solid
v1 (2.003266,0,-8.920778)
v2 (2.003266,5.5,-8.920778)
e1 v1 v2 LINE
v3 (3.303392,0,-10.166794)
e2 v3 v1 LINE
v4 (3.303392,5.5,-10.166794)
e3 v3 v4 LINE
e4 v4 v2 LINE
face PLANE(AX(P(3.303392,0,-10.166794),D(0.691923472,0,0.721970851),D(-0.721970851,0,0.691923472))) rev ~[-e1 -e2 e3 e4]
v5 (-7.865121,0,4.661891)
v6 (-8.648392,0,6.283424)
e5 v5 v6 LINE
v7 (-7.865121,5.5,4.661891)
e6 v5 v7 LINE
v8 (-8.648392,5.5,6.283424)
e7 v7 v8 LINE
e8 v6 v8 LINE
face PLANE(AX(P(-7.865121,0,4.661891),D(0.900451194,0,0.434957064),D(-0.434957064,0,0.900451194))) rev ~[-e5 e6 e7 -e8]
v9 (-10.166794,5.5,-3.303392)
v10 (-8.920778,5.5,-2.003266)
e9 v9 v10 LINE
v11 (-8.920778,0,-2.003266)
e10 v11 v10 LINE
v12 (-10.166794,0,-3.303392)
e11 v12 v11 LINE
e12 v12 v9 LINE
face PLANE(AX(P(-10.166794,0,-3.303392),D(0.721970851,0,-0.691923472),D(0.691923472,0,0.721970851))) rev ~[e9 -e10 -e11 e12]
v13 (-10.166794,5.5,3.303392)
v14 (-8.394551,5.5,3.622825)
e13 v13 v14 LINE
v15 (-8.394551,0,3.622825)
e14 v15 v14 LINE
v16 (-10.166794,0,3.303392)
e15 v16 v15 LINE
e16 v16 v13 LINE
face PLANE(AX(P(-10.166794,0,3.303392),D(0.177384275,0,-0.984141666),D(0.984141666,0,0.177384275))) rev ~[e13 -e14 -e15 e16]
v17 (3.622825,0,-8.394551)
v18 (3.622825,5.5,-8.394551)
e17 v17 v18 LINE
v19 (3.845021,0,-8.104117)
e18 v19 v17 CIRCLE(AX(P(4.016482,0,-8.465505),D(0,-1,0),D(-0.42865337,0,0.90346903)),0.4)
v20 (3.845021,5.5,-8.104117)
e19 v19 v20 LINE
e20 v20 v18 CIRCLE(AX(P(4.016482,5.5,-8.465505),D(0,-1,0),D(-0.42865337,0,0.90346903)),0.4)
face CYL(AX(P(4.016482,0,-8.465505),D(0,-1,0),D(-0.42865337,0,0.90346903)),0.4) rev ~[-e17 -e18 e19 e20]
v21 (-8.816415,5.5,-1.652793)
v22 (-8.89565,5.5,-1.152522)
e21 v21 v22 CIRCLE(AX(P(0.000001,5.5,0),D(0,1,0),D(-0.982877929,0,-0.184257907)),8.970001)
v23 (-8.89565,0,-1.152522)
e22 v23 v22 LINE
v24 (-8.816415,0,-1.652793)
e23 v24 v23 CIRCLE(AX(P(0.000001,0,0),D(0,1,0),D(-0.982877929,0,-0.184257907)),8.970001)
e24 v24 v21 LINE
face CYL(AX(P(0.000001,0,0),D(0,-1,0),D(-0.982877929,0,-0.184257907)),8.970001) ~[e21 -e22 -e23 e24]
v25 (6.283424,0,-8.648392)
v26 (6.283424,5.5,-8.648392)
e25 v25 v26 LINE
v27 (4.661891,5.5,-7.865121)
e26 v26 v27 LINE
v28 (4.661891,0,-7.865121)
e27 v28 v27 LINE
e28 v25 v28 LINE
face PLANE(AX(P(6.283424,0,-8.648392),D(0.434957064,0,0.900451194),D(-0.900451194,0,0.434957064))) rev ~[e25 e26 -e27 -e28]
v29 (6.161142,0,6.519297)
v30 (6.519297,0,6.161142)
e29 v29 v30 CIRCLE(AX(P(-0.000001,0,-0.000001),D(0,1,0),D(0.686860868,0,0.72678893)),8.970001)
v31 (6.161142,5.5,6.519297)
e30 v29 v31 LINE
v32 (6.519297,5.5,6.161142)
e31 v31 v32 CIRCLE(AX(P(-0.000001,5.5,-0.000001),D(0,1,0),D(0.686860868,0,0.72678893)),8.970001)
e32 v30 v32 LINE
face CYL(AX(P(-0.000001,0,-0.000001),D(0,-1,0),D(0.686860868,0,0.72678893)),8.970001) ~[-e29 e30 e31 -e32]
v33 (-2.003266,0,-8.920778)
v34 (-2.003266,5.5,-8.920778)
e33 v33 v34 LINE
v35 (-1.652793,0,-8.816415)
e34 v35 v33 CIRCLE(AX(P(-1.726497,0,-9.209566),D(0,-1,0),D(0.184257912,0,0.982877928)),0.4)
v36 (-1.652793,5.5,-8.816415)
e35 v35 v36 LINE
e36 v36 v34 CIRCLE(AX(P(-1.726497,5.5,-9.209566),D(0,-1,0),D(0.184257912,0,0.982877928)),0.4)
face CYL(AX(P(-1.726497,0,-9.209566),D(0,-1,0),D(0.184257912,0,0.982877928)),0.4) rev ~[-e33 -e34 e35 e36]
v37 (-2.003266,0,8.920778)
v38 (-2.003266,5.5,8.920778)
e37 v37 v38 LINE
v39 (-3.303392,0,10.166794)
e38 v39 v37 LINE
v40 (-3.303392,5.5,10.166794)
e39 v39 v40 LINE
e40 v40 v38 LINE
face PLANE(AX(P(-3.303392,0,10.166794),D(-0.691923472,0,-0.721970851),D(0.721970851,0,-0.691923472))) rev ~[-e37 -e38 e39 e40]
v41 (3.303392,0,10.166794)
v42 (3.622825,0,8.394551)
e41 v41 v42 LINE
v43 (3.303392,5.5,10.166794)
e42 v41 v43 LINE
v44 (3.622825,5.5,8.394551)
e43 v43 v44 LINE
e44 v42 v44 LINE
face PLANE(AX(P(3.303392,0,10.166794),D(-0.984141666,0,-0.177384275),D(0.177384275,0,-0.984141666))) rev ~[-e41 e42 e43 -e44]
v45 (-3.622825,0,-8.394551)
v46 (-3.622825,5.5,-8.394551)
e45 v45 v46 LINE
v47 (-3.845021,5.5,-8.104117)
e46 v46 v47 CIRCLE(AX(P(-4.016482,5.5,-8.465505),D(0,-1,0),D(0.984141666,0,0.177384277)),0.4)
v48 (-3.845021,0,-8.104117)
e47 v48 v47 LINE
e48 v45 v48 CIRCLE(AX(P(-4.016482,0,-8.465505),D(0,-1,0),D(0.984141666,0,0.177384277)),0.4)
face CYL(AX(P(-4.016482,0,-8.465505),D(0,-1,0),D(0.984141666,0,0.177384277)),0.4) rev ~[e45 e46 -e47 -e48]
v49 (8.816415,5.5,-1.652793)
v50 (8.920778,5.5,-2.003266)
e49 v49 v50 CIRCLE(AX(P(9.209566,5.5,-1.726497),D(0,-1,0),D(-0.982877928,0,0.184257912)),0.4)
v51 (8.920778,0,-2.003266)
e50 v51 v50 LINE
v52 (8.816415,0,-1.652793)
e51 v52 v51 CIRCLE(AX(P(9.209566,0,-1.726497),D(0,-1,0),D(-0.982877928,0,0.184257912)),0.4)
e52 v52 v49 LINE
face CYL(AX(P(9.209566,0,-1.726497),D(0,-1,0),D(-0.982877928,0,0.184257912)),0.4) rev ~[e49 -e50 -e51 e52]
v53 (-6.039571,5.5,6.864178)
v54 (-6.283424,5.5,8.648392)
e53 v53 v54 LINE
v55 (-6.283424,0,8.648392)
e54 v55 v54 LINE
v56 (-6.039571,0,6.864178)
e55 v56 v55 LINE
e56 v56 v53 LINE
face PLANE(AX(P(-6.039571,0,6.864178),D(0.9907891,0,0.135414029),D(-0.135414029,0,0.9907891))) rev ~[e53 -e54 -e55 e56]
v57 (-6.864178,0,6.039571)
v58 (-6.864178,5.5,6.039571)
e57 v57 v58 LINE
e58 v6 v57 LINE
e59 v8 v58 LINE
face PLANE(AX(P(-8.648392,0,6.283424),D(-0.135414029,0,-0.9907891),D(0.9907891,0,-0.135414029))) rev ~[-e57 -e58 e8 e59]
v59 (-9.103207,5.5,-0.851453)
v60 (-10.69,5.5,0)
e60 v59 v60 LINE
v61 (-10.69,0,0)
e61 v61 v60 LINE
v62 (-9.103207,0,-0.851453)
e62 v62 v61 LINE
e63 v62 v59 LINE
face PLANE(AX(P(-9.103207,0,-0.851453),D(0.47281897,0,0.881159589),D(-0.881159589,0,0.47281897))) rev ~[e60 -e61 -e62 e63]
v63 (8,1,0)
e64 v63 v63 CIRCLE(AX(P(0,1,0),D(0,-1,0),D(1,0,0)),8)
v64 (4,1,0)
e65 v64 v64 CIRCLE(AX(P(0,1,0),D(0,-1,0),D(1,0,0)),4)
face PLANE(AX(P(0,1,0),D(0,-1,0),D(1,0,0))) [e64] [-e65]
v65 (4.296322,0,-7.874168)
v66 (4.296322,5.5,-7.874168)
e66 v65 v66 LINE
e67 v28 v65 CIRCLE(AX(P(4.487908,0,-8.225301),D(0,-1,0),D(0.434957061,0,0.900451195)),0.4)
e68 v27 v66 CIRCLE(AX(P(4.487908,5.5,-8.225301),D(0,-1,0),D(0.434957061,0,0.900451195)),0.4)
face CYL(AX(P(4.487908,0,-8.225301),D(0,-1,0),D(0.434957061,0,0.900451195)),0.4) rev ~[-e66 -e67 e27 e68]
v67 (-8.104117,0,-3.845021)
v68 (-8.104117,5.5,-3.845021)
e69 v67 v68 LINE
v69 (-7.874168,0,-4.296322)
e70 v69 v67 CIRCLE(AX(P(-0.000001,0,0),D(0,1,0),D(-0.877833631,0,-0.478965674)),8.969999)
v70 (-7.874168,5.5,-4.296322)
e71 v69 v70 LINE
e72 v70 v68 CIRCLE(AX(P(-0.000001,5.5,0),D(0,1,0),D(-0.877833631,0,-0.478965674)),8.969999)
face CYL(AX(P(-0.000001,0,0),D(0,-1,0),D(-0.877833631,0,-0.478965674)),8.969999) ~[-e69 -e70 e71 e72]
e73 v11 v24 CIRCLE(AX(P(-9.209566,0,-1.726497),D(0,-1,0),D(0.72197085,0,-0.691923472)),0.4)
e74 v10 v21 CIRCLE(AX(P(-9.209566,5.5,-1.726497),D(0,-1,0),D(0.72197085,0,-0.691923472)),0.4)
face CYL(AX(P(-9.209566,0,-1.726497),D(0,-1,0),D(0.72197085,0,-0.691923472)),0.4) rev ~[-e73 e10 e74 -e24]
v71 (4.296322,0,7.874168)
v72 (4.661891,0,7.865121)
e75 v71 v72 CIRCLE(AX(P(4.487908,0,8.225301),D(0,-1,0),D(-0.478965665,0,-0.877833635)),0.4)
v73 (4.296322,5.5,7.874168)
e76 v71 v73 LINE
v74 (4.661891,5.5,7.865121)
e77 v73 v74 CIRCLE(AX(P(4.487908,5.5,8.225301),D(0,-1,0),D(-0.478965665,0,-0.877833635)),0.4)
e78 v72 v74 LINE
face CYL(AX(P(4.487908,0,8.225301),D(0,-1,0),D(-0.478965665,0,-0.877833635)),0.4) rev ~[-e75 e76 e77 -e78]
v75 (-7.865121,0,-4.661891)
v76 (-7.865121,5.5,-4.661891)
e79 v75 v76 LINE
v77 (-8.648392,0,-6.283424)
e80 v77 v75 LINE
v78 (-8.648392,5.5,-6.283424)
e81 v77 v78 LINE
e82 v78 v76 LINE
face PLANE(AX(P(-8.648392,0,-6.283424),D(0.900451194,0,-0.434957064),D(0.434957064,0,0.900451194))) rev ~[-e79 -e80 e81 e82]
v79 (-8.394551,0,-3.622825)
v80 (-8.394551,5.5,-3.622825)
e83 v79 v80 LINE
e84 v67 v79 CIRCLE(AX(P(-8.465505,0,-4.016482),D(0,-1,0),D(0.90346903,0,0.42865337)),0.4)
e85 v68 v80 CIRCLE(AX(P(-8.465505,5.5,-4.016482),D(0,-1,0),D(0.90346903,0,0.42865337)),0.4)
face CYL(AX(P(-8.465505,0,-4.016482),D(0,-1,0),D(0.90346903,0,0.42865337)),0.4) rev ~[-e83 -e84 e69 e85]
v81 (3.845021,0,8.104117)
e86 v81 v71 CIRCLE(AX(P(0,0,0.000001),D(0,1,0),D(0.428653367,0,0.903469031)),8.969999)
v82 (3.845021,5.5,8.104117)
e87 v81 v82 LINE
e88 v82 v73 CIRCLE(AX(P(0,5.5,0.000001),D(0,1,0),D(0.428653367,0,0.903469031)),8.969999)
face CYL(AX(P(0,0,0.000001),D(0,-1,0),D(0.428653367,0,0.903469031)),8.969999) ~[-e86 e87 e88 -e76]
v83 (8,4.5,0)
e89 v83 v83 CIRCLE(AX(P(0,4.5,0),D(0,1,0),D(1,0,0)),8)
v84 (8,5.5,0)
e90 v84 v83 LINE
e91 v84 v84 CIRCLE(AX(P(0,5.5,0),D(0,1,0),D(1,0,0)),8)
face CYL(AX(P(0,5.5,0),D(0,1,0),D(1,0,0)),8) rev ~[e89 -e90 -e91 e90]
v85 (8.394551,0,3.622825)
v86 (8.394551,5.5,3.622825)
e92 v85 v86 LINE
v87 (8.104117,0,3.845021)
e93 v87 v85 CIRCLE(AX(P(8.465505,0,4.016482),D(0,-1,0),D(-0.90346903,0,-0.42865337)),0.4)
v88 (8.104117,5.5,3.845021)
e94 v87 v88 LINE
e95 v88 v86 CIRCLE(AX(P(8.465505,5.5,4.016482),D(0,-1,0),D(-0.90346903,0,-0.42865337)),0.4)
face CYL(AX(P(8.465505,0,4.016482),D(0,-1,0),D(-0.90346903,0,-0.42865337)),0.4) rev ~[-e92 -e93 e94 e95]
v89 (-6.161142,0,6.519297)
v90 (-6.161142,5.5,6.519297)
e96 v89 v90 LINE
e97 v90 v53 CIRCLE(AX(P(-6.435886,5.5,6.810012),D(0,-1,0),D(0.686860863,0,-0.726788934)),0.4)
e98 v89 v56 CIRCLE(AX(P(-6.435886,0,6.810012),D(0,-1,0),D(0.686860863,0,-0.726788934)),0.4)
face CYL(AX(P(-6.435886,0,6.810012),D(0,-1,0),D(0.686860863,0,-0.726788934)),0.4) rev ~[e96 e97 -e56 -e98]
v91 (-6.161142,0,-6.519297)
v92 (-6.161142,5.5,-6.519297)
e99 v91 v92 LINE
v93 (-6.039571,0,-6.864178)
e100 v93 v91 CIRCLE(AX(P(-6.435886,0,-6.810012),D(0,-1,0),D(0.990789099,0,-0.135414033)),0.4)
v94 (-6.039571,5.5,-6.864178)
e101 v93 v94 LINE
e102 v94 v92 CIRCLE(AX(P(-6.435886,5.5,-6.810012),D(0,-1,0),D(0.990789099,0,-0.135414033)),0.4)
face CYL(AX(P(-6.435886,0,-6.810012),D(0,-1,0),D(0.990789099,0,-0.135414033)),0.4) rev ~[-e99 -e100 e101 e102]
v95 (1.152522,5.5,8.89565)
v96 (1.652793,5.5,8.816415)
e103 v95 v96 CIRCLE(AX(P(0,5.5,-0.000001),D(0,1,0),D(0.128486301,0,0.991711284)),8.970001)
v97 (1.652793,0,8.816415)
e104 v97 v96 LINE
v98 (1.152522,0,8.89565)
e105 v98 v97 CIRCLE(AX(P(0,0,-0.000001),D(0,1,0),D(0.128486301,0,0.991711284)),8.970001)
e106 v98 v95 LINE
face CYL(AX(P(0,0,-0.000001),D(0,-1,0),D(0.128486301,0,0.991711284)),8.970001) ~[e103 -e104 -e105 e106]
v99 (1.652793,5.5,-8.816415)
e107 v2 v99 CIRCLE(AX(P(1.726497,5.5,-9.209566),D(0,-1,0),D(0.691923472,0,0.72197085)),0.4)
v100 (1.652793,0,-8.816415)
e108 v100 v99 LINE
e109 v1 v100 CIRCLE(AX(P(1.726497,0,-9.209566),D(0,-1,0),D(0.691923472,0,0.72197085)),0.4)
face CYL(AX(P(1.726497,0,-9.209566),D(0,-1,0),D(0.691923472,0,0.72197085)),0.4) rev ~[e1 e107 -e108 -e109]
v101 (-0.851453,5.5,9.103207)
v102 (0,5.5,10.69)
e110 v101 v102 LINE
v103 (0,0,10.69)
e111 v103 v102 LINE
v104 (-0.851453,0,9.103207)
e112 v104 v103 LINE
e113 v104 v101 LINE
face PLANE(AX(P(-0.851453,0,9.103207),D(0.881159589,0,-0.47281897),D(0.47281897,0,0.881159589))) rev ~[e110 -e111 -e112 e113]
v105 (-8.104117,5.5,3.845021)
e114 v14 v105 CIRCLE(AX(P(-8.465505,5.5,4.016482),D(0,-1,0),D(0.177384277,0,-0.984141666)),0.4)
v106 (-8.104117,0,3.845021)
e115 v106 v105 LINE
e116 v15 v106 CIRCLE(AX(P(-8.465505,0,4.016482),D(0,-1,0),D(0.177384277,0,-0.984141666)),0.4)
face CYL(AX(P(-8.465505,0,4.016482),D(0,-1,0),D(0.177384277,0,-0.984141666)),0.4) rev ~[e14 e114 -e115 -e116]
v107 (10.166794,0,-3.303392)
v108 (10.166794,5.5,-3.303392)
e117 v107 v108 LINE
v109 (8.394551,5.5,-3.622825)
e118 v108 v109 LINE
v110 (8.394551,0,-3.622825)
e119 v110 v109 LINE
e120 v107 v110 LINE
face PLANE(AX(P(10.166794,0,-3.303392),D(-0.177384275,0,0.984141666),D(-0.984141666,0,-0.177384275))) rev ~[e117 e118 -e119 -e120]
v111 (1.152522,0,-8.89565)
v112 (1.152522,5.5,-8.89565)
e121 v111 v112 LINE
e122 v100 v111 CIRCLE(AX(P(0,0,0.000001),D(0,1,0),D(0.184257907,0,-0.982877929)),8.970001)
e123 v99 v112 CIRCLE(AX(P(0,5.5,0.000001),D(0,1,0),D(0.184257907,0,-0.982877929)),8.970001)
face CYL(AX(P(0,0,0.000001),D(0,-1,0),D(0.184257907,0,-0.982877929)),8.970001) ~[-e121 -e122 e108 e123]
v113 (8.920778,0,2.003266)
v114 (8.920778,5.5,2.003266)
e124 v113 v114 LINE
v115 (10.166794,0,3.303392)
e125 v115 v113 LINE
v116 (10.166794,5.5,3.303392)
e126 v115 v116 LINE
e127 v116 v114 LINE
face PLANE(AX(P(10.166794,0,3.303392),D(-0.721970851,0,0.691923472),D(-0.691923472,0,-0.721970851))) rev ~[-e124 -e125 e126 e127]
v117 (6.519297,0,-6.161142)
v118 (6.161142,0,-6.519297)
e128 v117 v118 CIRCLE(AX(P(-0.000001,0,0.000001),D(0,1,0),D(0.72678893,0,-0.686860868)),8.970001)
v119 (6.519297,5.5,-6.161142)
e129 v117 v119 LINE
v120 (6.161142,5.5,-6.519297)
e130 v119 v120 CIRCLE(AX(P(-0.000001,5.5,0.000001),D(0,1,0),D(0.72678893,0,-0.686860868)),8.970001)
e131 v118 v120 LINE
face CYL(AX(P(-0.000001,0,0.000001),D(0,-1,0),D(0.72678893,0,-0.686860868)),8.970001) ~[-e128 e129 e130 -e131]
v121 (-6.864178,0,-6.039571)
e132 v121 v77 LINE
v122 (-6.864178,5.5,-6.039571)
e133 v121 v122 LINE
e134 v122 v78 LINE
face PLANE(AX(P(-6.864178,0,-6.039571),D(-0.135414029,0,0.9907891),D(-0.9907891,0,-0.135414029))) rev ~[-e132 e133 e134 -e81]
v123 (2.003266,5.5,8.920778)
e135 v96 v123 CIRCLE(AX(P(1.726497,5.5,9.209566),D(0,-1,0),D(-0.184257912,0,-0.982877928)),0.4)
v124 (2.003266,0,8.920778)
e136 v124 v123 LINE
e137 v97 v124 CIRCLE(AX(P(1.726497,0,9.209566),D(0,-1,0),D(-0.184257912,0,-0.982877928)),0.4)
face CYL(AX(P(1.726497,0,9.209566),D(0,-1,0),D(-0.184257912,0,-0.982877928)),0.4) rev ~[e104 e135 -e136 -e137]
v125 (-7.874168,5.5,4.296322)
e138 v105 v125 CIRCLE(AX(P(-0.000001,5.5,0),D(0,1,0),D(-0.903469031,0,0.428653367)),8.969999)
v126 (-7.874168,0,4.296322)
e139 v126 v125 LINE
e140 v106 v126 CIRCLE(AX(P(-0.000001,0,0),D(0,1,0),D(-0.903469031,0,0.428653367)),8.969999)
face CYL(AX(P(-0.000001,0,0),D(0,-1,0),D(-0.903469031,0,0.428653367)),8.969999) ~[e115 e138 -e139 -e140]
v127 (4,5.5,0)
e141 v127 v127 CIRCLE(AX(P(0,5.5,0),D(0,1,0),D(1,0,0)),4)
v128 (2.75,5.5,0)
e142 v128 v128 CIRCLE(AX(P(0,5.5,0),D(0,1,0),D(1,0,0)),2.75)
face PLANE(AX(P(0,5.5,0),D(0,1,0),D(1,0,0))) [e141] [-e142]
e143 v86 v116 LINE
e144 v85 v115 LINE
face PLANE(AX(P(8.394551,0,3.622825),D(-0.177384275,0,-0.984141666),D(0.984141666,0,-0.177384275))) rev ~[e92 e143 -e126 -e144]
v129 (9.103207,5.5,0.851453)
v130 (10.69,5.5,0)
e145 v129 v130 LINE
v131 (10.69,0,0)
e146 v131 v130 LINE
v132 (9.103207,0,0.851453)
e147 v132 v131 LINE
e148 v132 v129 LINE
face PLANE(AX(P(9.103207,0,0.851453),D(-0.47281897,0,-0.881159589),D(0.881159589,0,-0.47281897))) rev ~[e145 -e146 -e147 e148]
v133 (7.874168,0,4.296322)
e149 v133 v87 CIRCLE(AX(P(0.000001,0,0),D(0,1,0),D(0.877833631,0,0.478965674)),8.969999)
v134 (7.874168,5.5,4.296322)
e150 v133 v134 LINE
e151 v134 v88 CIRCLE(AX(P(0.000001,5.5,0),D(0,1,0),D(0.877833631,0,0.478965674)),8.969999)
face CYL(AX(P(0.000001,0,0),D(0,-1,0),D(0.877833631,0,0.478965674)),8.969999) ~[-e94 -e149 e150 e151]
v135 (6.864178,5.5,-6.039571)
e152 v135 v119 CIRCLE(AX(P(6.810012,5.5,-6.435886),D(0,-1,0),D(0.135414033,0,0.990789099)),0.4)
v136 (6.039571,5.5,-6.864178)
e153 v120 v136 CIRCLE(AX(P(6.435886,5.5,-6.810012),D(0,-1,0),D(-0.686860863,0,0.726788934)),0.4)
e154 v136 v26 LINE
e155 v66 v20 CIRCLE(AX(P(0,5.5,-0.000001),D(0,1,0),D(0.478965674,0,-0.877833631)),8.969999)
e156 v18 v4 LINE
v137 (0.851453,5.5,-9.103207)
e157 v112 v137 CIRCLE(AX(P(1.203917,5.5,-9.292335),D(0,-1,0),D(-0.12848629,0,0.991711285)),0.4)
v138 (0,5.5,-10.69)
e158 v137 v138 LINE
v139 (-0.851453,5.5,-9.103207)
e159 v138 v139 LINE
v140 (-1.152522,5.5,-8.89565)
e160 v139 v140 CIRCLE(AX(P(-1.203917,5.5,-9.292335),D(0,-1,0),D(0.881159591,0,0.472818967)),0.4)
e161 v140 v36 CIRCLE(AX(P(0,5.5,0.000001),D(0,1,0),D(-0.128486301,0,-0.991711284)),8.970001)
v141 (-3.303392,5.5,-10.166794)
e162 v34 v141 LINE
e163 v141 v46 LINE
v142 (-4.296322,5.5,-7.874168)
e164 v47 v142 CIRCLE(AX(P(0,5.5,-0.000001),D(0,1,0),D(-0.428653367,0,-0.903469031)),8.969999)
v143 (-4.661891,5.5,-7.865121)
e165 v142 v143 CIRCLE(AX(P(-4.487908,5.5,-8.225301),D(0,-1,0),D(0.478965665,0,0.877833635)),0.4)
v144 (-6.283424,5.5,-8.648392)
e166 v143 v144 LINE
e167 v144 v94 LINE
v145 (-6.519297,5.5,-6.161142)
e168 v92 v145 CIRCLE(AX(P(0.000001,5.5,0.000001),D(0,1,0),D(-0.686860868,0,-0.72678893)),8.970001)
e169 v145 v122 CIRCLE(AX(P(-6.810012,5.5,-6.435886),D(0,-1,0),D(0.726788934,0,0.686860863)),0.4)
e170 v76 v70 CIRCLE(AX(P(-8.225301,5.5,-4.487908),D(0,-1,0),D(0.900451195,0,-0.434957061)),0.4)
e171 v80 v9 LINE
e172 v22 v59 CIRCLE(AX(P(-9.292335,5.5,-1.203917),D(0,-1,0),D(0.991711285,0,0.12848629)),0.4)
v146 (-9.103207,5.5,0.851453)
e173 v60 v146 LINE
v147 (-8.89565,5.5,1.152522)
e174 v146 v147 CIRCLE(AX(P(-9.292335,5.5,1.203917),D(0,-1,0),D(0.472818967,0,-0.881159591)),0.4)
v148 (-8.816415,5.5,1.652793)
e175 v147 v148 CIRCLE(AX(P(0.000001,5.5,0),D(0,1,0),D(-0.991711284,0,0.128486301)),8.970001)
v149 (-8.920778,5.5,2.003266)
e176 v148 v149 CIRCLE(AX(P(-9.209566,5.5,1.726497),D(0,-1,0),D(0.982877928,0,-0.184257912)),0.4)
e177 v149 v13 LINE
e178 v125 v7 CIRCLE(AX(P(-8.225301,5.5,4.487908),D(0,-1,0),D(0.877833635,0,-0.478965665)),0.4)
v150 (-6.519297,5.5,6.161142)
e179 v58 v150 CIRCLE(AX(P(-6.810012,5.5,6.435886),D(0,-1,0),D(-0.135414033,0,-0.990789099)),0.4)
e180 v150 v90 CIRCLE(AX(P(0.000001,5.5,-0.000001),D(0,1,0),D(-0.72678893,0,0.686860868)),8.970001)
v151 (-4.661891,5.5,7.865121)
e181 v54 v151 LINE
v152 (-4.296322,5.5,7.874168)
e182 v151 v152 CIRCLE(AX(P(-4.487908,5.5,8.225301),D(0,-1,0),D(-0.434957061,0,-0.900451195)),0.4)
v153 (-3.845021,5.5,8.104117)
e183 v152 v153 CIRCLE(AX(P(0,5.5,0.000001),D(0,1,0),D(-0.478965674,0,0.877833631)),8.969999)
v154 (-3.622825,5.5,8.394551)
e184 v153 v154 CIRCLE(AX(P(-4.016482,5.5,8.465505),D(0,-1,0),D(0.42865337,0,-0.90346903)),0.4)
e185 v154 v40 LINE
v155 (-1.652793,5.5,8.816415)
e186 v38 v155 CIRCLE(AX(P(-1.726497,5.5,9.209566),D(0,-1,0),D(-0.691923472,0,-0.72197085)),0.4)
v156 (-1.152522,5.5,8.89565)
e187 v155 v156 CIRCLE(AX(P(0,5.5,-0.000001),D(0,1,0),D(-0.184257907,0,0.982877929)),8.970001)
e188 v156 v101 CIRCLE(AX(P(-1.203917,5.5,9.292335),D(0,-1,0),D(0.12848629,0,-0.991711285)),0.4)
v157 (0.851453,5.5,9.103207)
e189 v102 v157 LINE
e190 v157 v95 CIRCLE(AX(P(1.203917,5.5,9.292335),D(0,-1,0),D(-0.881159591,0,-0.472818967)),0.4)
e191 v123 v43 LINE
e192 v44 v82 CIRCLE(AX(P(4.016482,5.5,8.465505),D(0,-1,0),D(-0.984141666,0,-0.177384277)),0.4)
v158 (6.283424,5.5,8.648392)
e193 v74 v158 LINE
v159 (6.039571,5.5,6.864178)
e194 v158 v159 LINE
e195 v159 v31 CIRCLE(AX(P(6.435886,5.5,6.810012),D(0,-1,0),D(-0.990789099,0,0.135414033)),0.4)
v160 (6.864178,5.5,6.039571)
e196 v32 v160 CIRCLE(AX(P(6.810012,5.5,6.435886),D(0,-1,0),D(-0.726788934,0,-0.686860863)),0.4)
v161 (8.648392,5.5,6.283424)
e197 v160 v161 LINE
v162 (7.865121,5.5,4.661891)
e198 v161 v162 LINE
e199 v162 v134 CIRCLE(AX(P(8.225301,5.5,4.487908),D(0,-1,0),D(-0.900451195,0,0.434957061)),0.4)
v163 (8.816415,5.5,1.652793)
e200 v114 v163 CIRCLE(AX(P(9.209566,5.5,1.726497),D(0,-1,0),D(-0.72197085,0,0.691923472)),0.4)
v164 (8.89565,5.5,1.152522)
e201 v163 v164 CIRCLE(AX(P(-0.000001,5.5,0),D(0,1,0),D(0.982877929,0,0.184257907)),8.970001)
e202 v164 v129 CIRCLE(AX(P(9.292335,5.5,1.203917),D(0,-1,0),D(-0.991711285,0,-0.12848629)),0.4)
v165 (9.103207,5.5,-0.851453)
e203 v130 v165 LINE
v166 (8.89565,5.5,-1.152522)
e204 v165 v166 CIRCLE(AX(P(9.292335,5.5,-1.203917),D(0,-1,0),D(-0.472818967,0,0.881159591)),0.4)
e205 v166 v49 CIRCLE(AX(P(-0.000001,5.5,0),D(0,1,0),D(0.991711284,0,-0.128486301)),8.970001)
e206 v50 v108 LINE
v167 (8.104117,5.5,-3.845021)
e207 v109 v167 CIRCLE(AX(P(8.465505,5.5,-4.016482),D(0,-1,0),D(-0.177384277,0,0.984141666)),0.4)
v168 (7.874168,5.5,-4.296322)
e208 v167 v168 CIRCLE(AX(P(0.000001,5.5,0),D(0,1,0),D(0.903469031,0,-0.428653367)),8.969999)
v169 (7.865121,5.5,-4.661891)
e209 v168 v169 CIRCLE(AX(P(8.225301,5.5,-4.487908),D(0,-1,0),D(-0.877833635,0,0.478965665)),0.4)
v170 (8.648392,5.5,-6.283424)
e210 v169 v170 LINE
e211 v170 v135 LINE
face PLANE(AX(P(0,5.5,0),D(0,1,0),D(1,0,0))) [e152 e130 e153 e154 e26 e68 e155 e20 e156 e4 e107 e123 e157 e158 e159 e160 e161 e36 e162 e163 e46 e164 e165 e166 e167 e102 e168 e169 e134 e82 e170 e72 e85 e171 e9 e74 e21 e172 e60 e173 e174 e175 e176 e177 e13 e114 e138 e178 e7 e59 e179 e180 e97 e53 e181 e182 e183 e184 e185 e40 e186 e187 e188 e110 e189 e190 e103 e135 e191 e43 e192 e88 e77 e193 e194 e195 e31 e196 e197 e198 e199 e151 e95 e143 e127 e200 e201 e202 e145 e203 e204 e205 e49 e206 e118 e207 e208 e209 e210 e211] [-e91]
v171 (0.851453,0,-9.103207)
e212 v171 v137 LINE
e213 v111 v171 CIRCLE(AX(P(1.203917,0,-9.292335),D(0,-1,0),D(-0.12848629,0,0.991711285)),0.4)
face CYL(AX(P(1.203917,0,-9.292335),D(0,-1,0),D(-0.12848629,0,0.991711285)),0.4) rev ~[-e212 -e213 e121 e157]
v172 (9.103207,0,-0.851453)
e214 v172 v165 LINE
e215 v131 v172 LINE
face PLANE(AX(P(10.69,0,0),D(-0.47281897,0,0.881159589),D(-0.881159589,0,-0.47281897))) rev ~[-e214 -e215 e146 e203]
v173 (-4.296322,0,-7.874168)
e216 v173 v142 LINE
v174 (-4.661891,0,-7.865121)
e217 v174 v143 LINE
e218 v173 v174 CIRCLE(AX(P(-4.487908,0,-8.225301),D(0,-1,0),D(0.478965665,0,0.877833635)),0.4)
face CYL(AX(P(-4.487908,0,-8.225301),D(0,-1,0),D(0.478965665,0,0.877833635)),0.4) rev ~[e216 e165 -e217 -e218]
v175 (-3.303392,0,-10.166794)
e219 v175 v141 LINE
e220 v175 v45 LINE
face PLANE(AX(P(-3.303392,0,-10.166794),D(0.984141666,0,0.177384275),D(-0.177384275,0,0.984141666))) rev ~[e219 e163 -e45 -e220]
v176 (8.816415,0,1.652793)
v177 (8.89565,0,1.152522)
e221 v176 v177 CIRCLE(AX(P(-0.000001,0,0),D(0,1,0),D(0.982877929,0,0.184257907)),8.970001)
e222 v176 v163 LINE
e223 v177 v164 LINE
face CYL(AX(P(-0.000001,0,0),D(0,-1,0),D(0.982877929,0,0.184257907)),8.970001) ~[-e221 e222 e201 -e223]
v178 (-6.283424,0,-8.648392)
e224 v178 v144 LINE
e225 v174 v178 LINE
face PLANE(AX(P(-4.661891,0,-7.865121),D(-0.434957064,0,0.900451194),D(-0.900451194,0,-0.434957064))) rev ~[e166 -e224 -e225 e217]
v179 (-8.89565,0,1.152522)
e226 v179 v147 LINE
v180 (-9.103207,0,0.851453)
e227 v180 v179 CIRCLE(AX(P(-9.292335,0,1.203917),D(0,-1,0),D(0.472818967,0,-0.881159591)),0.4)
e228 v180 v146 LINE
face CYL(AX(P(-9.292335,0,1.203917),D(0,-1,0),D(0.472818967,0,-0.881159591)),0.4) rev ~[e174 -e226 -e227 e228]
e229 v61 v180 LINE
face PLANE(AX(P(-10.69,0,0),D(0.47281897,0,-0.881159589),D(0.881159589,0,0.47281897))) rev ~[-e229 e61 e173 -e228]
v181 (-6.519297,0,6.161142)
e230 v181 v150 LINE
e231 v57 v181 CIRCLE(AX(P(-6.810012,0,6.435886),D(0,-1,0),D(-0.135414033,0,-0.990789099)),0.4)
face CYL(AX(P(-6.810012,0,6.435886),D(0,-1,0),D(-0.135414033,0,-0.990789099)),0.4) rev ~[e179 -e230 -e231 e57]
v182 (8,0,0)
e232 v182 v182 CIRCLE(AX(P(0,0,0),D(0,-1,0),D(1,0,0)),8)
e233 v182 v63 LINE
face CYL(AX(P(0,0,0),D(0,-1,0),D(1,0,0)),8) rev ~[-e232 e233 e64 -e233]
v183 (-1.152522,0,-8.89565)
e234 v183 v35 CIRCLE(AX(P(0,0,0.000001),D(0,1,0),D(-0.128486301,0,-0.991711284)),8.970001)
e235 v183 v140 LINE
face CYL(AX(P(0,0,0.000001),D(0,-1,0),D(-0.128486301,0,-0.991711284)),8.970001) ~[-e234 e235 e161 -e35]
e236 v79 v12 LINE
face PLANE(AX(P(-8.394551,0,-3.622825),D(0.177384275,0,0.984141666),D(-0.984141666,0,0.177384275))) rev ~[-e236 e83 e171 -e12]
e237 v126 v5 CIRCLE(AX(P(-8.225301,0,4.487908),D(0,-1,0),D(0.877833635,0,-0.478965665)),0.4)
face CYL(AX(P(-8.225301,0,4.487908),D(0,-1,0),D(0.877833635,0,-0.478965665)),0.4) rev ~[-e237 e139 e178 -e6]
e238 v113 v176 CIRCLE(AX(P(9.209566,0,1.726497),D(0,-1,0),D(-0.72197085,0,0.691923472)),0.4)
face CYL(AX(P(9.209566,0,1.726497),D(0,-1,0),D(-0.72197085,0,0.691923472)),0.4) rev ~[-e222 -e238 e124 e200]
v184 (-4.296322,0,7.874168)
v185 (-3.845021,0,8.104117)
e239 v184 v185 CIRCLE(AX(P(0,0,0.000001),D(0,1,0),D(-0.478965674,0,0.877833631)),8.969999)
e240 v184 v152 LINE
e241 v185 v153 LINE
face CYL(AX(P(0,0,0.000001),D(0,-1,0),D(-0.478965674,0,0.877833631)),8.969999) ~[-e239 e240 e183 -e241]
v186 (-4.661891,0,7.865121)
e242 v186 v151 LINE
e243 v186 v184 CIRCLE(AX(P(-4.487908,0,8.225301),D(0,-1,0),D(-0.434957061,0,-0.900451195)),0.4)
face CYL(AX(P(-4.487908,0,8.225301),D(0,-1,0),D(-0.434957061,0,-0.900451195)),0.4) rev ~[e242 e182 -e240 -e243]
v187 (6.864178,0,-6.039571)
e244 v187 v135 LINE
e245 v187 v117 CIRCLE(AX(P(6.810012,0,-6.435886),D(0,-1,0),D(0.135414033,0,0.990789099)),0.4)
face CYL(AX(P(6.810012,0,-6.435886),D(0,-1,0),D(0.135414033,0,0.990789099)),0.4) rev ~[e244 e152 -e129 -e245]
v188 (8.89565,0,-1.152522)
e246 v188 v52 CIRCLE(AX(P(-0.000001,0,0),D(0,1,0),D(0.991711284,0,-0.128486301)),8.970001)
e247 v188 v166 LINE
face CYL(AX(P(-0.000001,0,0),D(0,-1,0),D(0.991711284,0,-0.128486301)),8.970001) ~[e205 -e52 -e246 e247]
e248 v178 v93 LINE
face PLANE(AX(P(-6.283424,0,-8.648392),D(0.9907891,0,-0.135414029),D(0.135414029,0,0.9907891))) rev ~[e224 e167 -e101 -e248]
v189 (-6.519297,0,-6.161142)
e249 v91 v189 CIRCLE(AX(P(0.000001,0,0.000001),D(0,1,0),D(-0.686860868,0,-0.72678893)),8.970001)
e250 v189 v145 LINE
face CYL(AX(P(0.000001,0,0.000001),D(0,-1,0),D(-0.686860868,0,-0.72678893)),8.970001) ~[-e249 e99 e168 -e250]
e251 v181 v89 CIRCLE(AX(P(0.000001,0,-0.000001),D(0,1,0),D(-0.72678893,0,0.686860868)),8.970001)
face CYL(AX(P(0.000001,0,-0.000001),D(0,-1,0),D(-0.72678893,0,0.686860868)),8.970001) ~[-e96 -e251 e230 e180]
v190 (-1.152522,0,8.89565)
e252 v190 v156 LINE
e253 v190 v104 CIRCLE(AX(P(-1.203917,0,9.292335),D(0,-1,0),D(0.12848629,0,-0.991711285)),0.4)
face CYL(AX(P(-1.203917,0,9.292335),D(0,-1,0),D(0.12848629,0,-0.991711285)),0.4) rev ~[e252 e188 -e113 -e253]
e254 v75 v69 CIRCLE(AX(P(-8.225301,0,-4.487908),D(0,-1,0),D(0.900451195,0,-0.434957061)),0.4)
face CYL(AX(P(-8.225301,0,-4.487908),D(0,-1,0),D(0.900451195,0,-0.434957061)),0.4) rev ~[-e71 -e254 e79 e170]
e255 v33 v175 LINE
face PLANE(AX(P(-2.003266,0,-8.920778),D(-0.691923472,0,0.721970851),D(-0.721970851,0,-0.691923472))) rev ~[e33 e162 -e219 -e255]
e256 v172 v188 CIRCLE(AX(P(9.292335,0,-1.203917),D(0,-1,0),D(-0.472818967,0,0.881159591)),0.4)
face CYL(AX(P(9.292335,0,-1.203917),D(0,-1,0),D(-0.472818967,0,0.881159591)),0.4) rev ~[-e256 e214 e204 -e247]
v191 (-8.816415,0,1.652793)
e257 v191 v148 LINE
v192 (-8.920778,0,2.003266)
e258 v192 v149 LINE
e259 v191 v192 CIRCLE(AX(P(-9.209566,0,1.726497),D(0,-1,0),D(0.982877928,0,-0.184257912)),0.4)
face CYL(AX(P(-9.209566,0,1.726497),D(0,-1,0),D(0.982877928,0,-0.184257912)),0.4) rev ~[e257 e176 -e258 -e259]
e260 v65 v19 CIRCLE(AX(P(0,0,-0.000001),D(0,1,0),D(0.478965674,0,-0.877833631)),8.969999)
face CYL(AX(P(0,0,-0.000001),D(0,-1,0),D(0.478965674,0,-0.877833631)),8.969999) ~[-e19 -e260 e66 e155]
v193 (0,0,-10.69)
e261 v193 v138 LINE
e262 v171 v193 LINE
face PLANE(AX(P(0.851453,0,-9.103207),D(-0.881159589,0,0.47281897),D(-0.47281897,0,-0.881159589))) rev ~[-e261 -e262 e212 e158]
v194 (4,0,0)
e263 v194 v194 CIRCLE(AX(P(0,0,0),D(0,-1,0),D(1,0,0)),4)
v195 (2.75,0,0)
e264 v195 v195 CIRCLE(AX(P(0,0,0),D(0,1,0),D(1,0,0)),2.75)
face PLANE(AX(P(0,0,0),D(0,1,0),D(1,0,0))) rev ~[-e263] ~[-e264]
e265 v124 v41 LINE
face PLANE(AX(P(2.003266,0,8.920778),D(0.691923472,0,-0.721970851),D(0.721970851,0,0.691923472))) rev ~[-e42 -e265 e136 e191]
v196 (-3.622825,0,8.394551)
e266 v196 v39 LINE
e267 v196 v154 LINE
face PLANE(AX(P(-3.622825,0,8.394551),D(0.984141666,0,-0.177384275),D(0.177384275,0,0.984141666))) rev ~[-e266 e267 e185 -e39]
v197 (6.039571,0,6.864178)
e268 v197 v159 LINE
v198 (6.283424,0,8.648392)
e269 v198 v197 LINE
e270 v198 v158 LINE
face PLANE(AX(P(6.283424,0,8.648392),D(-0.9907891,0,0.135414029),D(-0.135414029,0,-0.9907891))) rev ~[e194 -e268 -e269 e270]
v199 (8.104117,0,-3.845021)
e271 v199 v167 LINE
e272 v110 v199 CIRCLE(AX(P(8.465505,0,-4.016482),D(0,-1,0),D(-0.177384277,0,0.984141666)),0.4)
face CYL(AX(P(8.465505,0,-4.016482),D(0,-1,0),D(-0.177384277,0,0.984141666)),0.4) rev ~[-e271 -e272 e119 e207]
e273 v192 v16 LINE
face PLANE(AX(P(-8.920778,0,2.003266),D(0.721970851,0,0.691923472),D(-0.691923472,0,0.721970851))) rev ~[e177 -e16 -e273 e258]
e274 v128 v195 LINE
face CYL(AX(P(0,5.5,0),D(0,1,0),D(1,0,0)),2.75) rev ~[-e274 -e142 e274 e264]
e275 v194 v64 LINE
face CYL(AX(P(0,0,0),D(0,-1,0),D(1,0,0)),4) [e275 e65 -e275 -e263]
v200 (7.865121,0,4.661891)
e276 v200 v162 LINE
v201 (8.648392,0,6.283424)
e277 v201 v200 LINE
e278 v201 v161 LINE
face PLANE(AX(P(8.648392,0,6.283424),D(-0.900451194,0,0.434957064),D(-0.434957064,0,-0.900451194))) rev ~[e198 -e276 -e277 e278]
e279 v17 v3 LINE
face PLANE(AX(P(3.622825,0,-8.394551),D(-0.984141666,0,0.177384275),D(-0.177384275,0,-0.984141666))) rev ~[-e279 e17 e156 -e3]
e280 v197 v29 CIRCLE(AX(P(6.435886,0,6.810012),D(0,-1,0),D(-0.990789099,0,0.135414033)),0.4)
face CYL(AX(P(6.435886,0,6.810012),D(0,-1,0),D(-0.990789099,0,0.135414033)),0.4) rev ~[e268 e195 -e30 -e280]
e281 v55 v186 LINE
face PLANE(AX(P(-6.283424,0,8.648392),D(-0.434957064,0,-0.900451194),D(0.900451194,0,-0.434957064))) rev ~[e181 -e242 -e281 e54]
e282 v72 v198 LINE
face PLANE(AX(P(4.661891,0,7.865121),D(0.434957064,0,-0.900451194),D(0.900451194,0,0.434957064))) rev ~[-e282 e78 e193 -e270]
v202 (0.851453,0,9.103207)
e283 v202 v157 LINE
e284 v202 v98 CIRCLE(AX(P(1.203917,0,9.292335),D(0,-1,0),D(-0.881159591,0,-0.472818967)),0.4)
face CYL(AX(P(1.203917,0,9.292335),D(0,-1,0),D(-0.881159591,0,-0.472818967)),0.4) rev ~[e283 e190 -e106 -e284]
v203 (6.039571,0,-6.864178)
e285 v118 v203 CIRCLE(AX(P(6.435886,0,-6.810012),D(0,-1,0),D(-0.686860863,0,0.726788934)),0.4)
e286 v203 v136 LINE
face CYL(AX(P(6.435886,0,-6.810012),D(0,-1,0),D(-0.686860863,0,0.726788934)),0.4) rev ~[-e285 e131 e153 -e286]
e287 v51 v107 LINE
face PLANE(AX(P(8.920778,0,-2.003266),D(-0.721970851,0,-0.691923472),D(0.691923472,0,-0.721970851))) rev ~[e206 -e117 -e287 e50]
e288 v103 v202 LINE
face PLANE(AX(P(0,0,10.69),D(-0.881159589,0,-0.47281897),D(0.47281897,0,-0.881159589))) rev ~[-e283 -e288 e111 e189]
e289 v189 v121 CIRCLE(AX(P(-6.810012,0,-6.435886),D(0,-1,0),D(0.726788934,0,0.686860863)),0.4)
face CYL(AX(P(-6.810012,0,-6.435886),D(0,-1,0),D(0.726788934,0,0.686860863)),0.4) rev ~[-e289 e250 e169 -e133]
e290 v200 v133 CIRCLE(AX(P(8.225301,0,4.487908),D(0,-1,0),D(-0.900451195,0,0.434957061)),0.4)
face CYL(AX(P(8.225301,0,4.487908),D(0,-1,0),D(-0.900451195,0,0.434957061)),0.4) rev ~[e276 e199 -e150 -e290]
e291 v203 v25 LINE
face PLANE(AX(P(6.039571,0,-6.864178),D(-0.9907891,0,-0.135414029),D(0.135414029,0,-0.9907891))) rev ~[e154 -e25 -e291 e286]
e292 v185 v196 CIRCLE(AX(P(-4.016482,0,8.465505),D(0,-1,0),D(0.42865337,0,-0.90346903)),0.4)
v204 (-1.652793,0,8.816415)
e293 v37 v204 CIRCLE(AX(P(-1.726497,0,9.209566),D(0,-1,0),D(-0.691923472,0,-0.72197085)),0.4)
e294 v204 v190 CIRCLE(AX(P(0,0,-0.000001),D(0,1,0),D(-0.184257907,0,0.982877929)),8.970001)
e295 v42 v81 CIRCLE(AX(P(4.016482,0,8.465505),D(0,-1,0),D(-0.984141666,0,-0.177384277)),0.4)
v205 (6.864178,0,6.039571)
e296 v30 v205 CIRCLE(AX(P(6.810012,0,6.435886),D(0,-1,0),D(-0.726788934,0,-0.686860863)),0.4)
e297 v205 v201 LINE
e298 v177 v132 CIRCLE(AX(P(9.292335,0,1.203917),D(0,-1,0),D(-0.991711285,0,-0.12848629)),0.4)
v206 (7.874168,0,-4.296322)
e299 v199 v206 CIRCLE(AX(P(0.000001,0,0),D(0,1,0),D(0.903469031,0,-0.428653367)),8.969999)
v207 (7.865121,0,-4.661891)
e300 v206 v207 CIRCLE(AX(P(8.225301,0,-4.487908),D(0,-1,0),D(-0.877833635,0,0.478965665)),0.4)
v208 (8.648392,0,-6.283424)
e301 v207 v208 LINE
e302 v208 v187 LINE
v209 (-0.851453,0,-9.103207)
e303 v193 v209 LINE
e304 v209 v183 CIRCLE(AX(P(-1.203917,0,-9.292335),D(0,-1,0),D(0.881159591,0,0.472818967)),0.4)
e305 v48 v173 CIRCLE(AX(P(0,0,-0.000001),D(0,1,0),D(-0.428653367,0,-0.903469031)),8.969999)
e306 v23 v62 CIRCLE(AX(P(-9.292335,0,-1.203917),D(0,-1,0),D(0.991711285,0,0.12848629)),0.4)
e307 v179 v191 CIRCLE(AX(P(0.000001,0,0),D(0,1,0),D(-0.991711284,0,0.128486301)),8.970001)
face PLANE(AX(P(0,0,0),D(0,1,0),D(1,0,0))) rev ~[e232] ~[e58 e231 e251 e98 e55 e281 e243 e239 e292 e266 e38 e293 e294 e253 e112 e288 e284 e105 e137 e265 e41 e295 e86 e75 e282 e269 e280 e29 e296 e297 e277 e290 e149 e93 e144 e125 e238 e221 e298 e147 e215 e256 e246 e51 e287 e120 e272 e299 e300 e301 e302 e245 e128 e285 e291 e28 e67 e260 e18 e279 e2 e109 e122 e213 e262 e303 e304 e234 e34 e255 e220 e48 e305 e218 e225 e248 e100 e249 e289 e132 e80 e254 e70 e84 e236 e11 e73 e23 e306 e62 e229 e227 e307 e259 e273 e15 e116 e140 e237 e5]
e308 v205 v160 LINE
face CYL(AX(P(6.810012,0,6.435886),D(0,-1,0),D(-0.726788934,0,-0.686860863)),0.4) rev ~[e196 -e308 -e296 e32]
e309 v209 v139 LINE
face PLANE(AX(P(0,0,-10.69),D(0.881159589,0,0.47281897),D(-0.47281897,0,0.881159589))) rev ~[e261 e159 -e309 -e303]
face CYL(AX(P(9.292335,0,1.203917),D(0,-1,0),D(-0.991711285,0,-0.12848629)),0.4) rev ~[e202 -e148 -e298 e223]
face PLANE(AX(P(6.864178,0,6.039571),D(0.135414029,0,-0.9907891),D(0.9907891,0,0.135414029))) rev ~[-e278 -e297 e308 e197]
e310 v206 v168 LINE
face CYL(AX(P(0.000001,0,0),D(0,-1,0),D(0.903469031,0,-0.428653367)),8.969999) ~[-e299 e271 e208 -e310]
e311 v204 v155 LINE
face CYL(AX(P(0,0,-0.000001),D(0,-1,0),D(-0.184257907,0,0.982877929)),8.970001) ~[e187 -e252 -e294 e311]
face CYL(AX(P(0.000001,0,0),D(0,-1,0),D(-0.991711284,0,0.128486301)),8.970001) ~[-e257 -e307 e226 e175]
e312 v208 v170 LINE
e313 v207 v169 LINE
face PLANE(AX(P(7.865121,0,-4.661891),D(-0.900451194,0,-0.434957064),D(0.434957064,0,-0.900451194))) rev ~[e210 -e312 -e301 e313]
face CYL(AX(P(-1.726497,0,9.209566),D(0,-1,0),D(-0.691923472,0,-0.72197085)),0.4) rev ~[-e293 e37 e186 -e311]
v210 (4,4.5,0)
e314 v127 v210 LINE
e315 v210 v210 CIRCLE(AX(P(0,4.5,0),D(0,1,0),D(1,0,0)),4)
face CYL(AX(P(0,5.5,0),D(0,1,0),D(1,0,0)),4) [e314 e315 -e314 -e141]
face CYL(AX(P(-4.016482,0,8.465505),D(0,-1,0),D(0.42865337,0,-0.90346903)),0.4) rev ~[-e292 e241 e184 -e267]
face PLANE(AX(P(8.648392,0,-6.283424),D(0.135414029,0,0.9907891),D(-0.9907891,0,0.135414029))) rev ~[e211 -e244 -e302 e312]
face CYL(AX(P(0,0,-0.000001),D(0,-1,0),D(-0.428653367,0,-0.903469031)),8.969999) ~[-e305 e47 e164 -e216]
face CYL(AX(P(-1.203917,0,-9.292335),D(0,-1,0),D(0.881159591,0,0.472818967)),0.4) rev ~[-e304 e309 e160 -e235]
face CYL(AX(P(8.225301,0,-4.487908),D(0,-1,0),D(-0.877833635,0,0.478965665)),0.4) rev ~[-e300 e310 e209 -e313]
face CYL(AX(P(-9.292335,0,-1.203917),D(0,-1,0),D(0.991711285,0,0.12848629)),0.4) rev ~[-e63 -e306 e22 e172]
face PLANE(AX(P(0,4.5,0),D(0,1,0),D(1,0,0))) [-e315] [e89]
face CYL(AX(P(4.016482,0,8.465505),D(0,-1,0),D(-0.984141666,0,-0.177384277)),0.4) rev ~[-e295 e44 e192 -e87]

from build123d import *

# Parameters (mm, degrees)
BOSS_EXTRUDE1_DEPTH = 5.5
SKETCH2_R           = 2.75
CUT_EXTRUDE1_DEPTH  = 17.087330419
SKETCH2_3_R         = 8
SKETCH2_3_R_2       = 4
CUT_EXTRUDE2_DEPTH  = 1
CUT_EXTRUDE3_START  = -1
SKETCH3_R           = 8
SKETCH3_R_2         = 4
CUT_EXTRUDE3_DEPTH  = 1


with BuildPart() as part:
    # Sketch1 → Boss-Extrude1 (new body)
    with BuildSketch(Plane(origin=(0, 0, 0), x_dir=(1, 0, 0), z_dir=(0, 1, 0))):
        with BuildLine():
            Line((0, 10.69), (-0.851452759, 9.103207147))
            ThreePointArc((-0.851452759, 9.103207147), (-0.976880558, 8.963010217), (-1.152522076, 8.895650222))
            ThreePointArc((-1.152522076, 8.895650222), (-1.403217151, 8.859564415), (-1.652793464, 8.816415018))
            ThreePointArc((-1.652793464, 8.816415018), (-1.840653858, 8.826201967), (-2.003266017, 8.920777849))
            Line((-2.003266017, 8.920777849), (-3.30339167, 10.166794159))
            Line((-3.30339167, 10.166794159), (-3.622825406, 8.394551104))
            ThreePointArc((-3.622825406, 8.394551104), (-3.698791098, 8.222456579), (-3.845020725, 8.104117202))
            ThreePointArc((-3.845020725, 8.104117202), (-4.072294783, 7.992328522), (-4.296322064, 7.874167684))
            ThreePointArc((-4.296322064, 7.874167684), (-4.478012249, 7.825423572), (-4.661891158, 7.86512066))
            Line((-4.661891158, 7.86512066), (-6.283424347, 8.64839167))
            Line((-6.283424347, 8.64839167), (-6.039570662, 6.864177911))
            ThreePointArc((-6.039570662, 6.864177911), (-6.058638195, 6.677031601), (-6.161141956, 6.519296726))
            ThreePointArc((-6.161141956, 6.519296726), (-6.342747827, 6.342747827), (-6.519296726, 6.161141956))
            ThreePointArc((-6.519296726, 6.161141956), (-6.677031601, 6.058638195), (-6.864177911, 6.039570662))
            Line((-6.864177911, 6.039570662), (-8.64839167, 6.283424347))
            Line((-8.64839167, 6.283424347), (-7.86512066, 4.661891158))
            ThreePointArc((-7.86512066, 4.661891158), (-7.825423572, 4.478012249), (-7.874167684, 4.296322064))
            ThreePointArc((-7.874167684, 4.296322064), (-7.992328522, 4.072294783), (-8.104117202, 3.845020725))
            ThreePointArc((-8.104117202, 3.845020725), (-8.222456579, 3.698791098), (-8.394551104, 3.622825406))
            Line((-8.394551104, 3.622825406), (-10.166794159, 3.30339167))
            Line((-10.166794159, 3.30339167), (-8.920777849, 2.003266017))
            ThreePointArc((-8.920777849, 2.003266017), (-8.826201967, 1.840653858), (-8.816415018, 1.652793464))
            ThreePointArc((-8.816415018, 1.652793464), (-8.859564415, 1.403217151), (-8.895650222, 1.152522076))
            ThreePointArc((-8.895650222, 1.152522076), (-8.963010217, 0.976880558), (-9.103207147, 0.851452759))
            Line((-9.103207147, 0.851452759), (-10.69, 0))
            Line((-10.69, 0), (-9.103207147, -0.851452759))
            ThreePointArc((-9.103207147, -0.851452759), (-8.963010217, -0.976880558), (-8.895650222, -1.152522076))
            ThreePointArc((-8.895650222, -1.152522076), (-8.859564415, -1.403217151), (-8.816415018, -1.652793464))
            ThreePointArc((-8.816415018, -1.652793464), (-8.826201967, -1.840653858), (-8.920777849, -2.003266017))
            Line((-8.920777849, -2.003266017), (-10.166794159, -3.30339167))
            Line((-10.166794159, -3.30339167), (-8.394551104, -3.622825406))
            ThreePointArc((-8.394551104, -3.622825406), (-8.222456579, -3.698791098), (-8.104117202, -3.845020725))
            ThreePointArc((-8.104117202, -3.845020725), (-7.992328522, -4.072294783), (-7.874167684, -4.296322064))
            ThreePointArc((-7.874167684, -4.296322064), (-7.825423572, -4.478012249), (-7.86512066, -4.661891158))
            Line((-7.86512066, -4.661891158), (-8.64839167, -6.283424347))
            Line((-8.64839167, -6.283424347), (-6.864177911, -6.039570662))
            ThreePointArc((-6.864177911, -6.039570662), (-6.677031601, -6.058638195), (-6.519296726, -6.161141956))
            ThreePointArc((-6.519296726, -6.161141956), (-6.342747827, -6.342747827), (-6.161141956, -6.519296726))
            ThreePointArc((-6.161141956, -6.519296726), (-6.058638195, -6.677031601), (-6.039570662, -6.864177911))
            Line((-6.039570662, -6.864177911), (-6.283424347, -8.64839167))
            Line((-6.283424347, -8.64839167), (-4.661891158, -7.86512066))
            ThreePointArc((-4.661891158, -7.86512066), (-4.478012249, -7.825423572), (-4.296322064, -7.874167684))
            ThreePointArc((-4.296322064, -7.874167684), (-4.072294783, -7.992328522), (-3.845020725, -8.104117202))
            ThreePointArc((-3.845020725, -8.104117202), (-3.698791098, -8.222456579), (-3.622825406, -8.394551104))
            Line((-3.622825406, -8.394551104), (-3.30339167, -10.166794159))
            Line((-3.30339167, -10.166794159), (-2.003266017, -8.920777849))
            ThreePointArc((-2.003266017, -8.920777849), (-1.840653858, -8.826201967), (-1.652793464, -8.816415018))
            ThreePointArc((-1.652793464, -8.816415018), (-1.403217151, -8.859564415), (-1.152522076, -8.895650222))
            ThreePointArc((-1.152522076, -8.895650222), (-0.976880558, -8.963010217), (-0.851452759, -9.103207147))
            Line((-0.851452759, -9.103207147), (0, -10.69))
            Line((0, -10.69), (0.851452759, -9.103207147))
            ThreePointArc((0.851452759, -9.103207147), (0.976880558, -8.963010217), (1.152522076, -8.895650222))
            ThreePointArc((1.152522076, -8.895650222), (1.403217151, -8.859564415), (1.652793464, -8.816415018))
            ThreePointArc((1.652793464, -8.816415018), (1.840653858, -8.826201967), (2.003266017, -8.920777849))
            Line((2.003266017, -8.920777849), (3.30339167, -10.166794159))
            Line((3.30339167, -10.166794159), (3.622825406, -8.394551104))
            ThreePointArc((3.622825406, -8.394551104), (3.698791098, -8.222456579), (3.845020725, -8.104117202))
            ThreePointArc((3.845020725, -8.104117202), (4.072294783, -7.992328522), (4.296322064, -7.874167684))
            ThreePointArc((4.296322064, -7.874167684), (4.478012249, -7.825423572), (4.661891158, -7.86512066))
            Line((4.661891158, -7.86512066), (6.283424347, -8.64839167))
            Line((6.283424347, -8.64839167), (6.039570662, -6.864177911))
            ThreePointArc((6.039570662, -6.864177911), (6.058638195, -6.677031601), (6.161141956, -6.519296726))
            ThreePointArc((6.161141956, -6.519296726), (6.342747827, -6.342747827), (6.519296726, -6.161141956))
            ThreePointArc((6.519296726, -6.161141956), (6.677031601, -6.058638195), (6.864177911, -6.039570662))
            Line((6.864177911, -6.039570662), (8.64839167, -6.283424347))
            Line((8.64839167, -6.283424347), (7.86512066, -4.661891158))
            ThreePointArc((7.86512066, -4.661891158), (7.825423572, -4.478012249), (7.874167684, -4.296322064))
            ThreePointArc((7.874167684, -4.296322064), (7.992328522, -4.072294783), (8.104117202, -3.845020725))
            ThreePointArc((8.104117202, -3.845020725), (8.222456579, -3.698791098), (8.394551104, -3.622825406))
            Line((8.394551104, -3.622825406), (10.166794159, -3.30339167))
            Line((10.166794159, -3.30339167), (8.920777849, -2.003266017))
            ThreePointArc((8.920777849, -2.003266017), (8.826201967, -1.840653858), (8.816415018, -1.652793464))
            ThreePointArc((8.816415018, -1.652793464), (8.859564415, -1.403217151), (8.895650222, -1.152522076))
            ThreePointArc((8.895650222, -1.152522076), (8.963010217, -0.976880558), (9.103207147, -0.851452759))
            Line((9.103207147, -0.851452759), (10.69, 0))
            Line((10.69, 0), (9.103207147, 0.851452759))
            ThreePointArc((9.103207147, 0.851452759), (8.963010217, 0.976880558), (8.895650222, 1.152522076))
            ThreePointArc((8.895650222, 1.152522076), (8.859564415, 1.403217151), (8.816415018, 1.652793464))
            ThreePointArc((8.816415018, 1.652793464), (8.826201967, 1.840653858), (8.920777849, 2.003266017))
            Line((8.920777849, 2.003266017), (10.166794159, 3.30339167))
            Line((10.166794159, 3.30339167), (8.394551104, 3.622825406))
            ThreePointArc((8.394551104, 3.622825406), (8.222456579, 3.698791098), (8.104117202, 3.845020725))
            ThreePointArc((8.104117202, 3.845020725), (7.992328522, 4.072294783), (7.874167684, 4.296322064))
            ThreePointArc((7.874167684, 4.296322064), (7.825423572, 4.478012249), (7.86512066, 4.661891158))
            Line((7.86512066, 4.661891158), (8.64839167, 6.283424347))
            Line((8.64839167, 6.283424347), (6.864177911, 6.039570662))
            ThreePointArc((6.864177911, 6.039570662), (6.677031601, 6.058638195), (6.519296726, 6.161141956))
            ThreePointArc((6.519296726, 6.161141956), (6.342747827, 6.342747827), (6.161141956, 6.519296726))
            ThreePointArc((6.161141956, 6.519296726), (6.058638195, 6.677031601), (6.039570662, 6.864177911))
            Line((6.039570662, 6.864177911), (6.283424347, 8.64839167))
            Line((6.283424347, 8.64839167), (4.661891158, 7.86512066))
            ThreePointArc((4.661891158, 7.86512066), (4.478012249, 7.825423572), (4.296322064, 7.874167684))
            ThreePointArc((4.296322064, 7.874167684), (4.072294783, 7.992328522), (3.845020725, 8.104117202))
            ThreePointArc((3.845020725, 8.104117202), (3.698791098, 8.222456579), (3.622825406, 8.394551104))
            Line((3.622825406, 8.394551104), (3.30339167, 10.166794159))
            Line((3.30339167, 10.166794159), (2.003266017, 8.920777849))
            ThreePointArc((2.003266017, 8.920777849), (1.840653858, 8.826201967), (1.652793464, 8.816415018))
            ThreePointArc((1.652793464, 8.816415018), (1.403217151, 8.859564415), (1.152522076, 8.895650222))
            ThreePointArc((1.152522076, 8.895650222), (0.976880558, 8.963010217), (0.851452759, 9.103207147))
            Line((0.851452759, 9.103207147), (0, 10.69))
        make_face()
    extrude(amount=BOSS_EXTRUDE1_DEPTH)

    # Sketch2 → Cut-Extrude1 (cut, through all)
    with BuildSketch(Plane(origin=(0, 5.5, 0), x_dir=(1, 0, 0), z_dir=(0, 1, 0))):
        Circle(SKETCH2_R)
    extrude(amount=-CUT_EXTRUDE1_DEPTH, mode=Mode.SUBTRACT)

    # Sketch2<3> → Cut-Extrude2 (cut)
    with BuildSketch(Plane(origin=(0, 5.5, 0), x_dir=(1, 0, 0), z_dir=(0, 1, 0))):
        Circle(SKETCH2_3_R)
        Circle(SKETCH2_3_R_2, mode=Mode.SUBTRACT)
    extrude(amount=-CUT_EXTRUDE2_DEPTH, mode=Mode.SUBTRACT)

    # Sketch3 → Cut-Extrude3 (cut)
    with BuildSketch(Plane.XZ.offset(CUT_EXTRUDE3_START)):
        Circle(SKETCH3_R)
        Circle(SKETCH3_R_2, mode=Mode.SUBTRACT)
    extrude(amount=CUT_EXTRUDE3_DEPTH, mode=Mode.SUBTRACT)


solid = part.part
